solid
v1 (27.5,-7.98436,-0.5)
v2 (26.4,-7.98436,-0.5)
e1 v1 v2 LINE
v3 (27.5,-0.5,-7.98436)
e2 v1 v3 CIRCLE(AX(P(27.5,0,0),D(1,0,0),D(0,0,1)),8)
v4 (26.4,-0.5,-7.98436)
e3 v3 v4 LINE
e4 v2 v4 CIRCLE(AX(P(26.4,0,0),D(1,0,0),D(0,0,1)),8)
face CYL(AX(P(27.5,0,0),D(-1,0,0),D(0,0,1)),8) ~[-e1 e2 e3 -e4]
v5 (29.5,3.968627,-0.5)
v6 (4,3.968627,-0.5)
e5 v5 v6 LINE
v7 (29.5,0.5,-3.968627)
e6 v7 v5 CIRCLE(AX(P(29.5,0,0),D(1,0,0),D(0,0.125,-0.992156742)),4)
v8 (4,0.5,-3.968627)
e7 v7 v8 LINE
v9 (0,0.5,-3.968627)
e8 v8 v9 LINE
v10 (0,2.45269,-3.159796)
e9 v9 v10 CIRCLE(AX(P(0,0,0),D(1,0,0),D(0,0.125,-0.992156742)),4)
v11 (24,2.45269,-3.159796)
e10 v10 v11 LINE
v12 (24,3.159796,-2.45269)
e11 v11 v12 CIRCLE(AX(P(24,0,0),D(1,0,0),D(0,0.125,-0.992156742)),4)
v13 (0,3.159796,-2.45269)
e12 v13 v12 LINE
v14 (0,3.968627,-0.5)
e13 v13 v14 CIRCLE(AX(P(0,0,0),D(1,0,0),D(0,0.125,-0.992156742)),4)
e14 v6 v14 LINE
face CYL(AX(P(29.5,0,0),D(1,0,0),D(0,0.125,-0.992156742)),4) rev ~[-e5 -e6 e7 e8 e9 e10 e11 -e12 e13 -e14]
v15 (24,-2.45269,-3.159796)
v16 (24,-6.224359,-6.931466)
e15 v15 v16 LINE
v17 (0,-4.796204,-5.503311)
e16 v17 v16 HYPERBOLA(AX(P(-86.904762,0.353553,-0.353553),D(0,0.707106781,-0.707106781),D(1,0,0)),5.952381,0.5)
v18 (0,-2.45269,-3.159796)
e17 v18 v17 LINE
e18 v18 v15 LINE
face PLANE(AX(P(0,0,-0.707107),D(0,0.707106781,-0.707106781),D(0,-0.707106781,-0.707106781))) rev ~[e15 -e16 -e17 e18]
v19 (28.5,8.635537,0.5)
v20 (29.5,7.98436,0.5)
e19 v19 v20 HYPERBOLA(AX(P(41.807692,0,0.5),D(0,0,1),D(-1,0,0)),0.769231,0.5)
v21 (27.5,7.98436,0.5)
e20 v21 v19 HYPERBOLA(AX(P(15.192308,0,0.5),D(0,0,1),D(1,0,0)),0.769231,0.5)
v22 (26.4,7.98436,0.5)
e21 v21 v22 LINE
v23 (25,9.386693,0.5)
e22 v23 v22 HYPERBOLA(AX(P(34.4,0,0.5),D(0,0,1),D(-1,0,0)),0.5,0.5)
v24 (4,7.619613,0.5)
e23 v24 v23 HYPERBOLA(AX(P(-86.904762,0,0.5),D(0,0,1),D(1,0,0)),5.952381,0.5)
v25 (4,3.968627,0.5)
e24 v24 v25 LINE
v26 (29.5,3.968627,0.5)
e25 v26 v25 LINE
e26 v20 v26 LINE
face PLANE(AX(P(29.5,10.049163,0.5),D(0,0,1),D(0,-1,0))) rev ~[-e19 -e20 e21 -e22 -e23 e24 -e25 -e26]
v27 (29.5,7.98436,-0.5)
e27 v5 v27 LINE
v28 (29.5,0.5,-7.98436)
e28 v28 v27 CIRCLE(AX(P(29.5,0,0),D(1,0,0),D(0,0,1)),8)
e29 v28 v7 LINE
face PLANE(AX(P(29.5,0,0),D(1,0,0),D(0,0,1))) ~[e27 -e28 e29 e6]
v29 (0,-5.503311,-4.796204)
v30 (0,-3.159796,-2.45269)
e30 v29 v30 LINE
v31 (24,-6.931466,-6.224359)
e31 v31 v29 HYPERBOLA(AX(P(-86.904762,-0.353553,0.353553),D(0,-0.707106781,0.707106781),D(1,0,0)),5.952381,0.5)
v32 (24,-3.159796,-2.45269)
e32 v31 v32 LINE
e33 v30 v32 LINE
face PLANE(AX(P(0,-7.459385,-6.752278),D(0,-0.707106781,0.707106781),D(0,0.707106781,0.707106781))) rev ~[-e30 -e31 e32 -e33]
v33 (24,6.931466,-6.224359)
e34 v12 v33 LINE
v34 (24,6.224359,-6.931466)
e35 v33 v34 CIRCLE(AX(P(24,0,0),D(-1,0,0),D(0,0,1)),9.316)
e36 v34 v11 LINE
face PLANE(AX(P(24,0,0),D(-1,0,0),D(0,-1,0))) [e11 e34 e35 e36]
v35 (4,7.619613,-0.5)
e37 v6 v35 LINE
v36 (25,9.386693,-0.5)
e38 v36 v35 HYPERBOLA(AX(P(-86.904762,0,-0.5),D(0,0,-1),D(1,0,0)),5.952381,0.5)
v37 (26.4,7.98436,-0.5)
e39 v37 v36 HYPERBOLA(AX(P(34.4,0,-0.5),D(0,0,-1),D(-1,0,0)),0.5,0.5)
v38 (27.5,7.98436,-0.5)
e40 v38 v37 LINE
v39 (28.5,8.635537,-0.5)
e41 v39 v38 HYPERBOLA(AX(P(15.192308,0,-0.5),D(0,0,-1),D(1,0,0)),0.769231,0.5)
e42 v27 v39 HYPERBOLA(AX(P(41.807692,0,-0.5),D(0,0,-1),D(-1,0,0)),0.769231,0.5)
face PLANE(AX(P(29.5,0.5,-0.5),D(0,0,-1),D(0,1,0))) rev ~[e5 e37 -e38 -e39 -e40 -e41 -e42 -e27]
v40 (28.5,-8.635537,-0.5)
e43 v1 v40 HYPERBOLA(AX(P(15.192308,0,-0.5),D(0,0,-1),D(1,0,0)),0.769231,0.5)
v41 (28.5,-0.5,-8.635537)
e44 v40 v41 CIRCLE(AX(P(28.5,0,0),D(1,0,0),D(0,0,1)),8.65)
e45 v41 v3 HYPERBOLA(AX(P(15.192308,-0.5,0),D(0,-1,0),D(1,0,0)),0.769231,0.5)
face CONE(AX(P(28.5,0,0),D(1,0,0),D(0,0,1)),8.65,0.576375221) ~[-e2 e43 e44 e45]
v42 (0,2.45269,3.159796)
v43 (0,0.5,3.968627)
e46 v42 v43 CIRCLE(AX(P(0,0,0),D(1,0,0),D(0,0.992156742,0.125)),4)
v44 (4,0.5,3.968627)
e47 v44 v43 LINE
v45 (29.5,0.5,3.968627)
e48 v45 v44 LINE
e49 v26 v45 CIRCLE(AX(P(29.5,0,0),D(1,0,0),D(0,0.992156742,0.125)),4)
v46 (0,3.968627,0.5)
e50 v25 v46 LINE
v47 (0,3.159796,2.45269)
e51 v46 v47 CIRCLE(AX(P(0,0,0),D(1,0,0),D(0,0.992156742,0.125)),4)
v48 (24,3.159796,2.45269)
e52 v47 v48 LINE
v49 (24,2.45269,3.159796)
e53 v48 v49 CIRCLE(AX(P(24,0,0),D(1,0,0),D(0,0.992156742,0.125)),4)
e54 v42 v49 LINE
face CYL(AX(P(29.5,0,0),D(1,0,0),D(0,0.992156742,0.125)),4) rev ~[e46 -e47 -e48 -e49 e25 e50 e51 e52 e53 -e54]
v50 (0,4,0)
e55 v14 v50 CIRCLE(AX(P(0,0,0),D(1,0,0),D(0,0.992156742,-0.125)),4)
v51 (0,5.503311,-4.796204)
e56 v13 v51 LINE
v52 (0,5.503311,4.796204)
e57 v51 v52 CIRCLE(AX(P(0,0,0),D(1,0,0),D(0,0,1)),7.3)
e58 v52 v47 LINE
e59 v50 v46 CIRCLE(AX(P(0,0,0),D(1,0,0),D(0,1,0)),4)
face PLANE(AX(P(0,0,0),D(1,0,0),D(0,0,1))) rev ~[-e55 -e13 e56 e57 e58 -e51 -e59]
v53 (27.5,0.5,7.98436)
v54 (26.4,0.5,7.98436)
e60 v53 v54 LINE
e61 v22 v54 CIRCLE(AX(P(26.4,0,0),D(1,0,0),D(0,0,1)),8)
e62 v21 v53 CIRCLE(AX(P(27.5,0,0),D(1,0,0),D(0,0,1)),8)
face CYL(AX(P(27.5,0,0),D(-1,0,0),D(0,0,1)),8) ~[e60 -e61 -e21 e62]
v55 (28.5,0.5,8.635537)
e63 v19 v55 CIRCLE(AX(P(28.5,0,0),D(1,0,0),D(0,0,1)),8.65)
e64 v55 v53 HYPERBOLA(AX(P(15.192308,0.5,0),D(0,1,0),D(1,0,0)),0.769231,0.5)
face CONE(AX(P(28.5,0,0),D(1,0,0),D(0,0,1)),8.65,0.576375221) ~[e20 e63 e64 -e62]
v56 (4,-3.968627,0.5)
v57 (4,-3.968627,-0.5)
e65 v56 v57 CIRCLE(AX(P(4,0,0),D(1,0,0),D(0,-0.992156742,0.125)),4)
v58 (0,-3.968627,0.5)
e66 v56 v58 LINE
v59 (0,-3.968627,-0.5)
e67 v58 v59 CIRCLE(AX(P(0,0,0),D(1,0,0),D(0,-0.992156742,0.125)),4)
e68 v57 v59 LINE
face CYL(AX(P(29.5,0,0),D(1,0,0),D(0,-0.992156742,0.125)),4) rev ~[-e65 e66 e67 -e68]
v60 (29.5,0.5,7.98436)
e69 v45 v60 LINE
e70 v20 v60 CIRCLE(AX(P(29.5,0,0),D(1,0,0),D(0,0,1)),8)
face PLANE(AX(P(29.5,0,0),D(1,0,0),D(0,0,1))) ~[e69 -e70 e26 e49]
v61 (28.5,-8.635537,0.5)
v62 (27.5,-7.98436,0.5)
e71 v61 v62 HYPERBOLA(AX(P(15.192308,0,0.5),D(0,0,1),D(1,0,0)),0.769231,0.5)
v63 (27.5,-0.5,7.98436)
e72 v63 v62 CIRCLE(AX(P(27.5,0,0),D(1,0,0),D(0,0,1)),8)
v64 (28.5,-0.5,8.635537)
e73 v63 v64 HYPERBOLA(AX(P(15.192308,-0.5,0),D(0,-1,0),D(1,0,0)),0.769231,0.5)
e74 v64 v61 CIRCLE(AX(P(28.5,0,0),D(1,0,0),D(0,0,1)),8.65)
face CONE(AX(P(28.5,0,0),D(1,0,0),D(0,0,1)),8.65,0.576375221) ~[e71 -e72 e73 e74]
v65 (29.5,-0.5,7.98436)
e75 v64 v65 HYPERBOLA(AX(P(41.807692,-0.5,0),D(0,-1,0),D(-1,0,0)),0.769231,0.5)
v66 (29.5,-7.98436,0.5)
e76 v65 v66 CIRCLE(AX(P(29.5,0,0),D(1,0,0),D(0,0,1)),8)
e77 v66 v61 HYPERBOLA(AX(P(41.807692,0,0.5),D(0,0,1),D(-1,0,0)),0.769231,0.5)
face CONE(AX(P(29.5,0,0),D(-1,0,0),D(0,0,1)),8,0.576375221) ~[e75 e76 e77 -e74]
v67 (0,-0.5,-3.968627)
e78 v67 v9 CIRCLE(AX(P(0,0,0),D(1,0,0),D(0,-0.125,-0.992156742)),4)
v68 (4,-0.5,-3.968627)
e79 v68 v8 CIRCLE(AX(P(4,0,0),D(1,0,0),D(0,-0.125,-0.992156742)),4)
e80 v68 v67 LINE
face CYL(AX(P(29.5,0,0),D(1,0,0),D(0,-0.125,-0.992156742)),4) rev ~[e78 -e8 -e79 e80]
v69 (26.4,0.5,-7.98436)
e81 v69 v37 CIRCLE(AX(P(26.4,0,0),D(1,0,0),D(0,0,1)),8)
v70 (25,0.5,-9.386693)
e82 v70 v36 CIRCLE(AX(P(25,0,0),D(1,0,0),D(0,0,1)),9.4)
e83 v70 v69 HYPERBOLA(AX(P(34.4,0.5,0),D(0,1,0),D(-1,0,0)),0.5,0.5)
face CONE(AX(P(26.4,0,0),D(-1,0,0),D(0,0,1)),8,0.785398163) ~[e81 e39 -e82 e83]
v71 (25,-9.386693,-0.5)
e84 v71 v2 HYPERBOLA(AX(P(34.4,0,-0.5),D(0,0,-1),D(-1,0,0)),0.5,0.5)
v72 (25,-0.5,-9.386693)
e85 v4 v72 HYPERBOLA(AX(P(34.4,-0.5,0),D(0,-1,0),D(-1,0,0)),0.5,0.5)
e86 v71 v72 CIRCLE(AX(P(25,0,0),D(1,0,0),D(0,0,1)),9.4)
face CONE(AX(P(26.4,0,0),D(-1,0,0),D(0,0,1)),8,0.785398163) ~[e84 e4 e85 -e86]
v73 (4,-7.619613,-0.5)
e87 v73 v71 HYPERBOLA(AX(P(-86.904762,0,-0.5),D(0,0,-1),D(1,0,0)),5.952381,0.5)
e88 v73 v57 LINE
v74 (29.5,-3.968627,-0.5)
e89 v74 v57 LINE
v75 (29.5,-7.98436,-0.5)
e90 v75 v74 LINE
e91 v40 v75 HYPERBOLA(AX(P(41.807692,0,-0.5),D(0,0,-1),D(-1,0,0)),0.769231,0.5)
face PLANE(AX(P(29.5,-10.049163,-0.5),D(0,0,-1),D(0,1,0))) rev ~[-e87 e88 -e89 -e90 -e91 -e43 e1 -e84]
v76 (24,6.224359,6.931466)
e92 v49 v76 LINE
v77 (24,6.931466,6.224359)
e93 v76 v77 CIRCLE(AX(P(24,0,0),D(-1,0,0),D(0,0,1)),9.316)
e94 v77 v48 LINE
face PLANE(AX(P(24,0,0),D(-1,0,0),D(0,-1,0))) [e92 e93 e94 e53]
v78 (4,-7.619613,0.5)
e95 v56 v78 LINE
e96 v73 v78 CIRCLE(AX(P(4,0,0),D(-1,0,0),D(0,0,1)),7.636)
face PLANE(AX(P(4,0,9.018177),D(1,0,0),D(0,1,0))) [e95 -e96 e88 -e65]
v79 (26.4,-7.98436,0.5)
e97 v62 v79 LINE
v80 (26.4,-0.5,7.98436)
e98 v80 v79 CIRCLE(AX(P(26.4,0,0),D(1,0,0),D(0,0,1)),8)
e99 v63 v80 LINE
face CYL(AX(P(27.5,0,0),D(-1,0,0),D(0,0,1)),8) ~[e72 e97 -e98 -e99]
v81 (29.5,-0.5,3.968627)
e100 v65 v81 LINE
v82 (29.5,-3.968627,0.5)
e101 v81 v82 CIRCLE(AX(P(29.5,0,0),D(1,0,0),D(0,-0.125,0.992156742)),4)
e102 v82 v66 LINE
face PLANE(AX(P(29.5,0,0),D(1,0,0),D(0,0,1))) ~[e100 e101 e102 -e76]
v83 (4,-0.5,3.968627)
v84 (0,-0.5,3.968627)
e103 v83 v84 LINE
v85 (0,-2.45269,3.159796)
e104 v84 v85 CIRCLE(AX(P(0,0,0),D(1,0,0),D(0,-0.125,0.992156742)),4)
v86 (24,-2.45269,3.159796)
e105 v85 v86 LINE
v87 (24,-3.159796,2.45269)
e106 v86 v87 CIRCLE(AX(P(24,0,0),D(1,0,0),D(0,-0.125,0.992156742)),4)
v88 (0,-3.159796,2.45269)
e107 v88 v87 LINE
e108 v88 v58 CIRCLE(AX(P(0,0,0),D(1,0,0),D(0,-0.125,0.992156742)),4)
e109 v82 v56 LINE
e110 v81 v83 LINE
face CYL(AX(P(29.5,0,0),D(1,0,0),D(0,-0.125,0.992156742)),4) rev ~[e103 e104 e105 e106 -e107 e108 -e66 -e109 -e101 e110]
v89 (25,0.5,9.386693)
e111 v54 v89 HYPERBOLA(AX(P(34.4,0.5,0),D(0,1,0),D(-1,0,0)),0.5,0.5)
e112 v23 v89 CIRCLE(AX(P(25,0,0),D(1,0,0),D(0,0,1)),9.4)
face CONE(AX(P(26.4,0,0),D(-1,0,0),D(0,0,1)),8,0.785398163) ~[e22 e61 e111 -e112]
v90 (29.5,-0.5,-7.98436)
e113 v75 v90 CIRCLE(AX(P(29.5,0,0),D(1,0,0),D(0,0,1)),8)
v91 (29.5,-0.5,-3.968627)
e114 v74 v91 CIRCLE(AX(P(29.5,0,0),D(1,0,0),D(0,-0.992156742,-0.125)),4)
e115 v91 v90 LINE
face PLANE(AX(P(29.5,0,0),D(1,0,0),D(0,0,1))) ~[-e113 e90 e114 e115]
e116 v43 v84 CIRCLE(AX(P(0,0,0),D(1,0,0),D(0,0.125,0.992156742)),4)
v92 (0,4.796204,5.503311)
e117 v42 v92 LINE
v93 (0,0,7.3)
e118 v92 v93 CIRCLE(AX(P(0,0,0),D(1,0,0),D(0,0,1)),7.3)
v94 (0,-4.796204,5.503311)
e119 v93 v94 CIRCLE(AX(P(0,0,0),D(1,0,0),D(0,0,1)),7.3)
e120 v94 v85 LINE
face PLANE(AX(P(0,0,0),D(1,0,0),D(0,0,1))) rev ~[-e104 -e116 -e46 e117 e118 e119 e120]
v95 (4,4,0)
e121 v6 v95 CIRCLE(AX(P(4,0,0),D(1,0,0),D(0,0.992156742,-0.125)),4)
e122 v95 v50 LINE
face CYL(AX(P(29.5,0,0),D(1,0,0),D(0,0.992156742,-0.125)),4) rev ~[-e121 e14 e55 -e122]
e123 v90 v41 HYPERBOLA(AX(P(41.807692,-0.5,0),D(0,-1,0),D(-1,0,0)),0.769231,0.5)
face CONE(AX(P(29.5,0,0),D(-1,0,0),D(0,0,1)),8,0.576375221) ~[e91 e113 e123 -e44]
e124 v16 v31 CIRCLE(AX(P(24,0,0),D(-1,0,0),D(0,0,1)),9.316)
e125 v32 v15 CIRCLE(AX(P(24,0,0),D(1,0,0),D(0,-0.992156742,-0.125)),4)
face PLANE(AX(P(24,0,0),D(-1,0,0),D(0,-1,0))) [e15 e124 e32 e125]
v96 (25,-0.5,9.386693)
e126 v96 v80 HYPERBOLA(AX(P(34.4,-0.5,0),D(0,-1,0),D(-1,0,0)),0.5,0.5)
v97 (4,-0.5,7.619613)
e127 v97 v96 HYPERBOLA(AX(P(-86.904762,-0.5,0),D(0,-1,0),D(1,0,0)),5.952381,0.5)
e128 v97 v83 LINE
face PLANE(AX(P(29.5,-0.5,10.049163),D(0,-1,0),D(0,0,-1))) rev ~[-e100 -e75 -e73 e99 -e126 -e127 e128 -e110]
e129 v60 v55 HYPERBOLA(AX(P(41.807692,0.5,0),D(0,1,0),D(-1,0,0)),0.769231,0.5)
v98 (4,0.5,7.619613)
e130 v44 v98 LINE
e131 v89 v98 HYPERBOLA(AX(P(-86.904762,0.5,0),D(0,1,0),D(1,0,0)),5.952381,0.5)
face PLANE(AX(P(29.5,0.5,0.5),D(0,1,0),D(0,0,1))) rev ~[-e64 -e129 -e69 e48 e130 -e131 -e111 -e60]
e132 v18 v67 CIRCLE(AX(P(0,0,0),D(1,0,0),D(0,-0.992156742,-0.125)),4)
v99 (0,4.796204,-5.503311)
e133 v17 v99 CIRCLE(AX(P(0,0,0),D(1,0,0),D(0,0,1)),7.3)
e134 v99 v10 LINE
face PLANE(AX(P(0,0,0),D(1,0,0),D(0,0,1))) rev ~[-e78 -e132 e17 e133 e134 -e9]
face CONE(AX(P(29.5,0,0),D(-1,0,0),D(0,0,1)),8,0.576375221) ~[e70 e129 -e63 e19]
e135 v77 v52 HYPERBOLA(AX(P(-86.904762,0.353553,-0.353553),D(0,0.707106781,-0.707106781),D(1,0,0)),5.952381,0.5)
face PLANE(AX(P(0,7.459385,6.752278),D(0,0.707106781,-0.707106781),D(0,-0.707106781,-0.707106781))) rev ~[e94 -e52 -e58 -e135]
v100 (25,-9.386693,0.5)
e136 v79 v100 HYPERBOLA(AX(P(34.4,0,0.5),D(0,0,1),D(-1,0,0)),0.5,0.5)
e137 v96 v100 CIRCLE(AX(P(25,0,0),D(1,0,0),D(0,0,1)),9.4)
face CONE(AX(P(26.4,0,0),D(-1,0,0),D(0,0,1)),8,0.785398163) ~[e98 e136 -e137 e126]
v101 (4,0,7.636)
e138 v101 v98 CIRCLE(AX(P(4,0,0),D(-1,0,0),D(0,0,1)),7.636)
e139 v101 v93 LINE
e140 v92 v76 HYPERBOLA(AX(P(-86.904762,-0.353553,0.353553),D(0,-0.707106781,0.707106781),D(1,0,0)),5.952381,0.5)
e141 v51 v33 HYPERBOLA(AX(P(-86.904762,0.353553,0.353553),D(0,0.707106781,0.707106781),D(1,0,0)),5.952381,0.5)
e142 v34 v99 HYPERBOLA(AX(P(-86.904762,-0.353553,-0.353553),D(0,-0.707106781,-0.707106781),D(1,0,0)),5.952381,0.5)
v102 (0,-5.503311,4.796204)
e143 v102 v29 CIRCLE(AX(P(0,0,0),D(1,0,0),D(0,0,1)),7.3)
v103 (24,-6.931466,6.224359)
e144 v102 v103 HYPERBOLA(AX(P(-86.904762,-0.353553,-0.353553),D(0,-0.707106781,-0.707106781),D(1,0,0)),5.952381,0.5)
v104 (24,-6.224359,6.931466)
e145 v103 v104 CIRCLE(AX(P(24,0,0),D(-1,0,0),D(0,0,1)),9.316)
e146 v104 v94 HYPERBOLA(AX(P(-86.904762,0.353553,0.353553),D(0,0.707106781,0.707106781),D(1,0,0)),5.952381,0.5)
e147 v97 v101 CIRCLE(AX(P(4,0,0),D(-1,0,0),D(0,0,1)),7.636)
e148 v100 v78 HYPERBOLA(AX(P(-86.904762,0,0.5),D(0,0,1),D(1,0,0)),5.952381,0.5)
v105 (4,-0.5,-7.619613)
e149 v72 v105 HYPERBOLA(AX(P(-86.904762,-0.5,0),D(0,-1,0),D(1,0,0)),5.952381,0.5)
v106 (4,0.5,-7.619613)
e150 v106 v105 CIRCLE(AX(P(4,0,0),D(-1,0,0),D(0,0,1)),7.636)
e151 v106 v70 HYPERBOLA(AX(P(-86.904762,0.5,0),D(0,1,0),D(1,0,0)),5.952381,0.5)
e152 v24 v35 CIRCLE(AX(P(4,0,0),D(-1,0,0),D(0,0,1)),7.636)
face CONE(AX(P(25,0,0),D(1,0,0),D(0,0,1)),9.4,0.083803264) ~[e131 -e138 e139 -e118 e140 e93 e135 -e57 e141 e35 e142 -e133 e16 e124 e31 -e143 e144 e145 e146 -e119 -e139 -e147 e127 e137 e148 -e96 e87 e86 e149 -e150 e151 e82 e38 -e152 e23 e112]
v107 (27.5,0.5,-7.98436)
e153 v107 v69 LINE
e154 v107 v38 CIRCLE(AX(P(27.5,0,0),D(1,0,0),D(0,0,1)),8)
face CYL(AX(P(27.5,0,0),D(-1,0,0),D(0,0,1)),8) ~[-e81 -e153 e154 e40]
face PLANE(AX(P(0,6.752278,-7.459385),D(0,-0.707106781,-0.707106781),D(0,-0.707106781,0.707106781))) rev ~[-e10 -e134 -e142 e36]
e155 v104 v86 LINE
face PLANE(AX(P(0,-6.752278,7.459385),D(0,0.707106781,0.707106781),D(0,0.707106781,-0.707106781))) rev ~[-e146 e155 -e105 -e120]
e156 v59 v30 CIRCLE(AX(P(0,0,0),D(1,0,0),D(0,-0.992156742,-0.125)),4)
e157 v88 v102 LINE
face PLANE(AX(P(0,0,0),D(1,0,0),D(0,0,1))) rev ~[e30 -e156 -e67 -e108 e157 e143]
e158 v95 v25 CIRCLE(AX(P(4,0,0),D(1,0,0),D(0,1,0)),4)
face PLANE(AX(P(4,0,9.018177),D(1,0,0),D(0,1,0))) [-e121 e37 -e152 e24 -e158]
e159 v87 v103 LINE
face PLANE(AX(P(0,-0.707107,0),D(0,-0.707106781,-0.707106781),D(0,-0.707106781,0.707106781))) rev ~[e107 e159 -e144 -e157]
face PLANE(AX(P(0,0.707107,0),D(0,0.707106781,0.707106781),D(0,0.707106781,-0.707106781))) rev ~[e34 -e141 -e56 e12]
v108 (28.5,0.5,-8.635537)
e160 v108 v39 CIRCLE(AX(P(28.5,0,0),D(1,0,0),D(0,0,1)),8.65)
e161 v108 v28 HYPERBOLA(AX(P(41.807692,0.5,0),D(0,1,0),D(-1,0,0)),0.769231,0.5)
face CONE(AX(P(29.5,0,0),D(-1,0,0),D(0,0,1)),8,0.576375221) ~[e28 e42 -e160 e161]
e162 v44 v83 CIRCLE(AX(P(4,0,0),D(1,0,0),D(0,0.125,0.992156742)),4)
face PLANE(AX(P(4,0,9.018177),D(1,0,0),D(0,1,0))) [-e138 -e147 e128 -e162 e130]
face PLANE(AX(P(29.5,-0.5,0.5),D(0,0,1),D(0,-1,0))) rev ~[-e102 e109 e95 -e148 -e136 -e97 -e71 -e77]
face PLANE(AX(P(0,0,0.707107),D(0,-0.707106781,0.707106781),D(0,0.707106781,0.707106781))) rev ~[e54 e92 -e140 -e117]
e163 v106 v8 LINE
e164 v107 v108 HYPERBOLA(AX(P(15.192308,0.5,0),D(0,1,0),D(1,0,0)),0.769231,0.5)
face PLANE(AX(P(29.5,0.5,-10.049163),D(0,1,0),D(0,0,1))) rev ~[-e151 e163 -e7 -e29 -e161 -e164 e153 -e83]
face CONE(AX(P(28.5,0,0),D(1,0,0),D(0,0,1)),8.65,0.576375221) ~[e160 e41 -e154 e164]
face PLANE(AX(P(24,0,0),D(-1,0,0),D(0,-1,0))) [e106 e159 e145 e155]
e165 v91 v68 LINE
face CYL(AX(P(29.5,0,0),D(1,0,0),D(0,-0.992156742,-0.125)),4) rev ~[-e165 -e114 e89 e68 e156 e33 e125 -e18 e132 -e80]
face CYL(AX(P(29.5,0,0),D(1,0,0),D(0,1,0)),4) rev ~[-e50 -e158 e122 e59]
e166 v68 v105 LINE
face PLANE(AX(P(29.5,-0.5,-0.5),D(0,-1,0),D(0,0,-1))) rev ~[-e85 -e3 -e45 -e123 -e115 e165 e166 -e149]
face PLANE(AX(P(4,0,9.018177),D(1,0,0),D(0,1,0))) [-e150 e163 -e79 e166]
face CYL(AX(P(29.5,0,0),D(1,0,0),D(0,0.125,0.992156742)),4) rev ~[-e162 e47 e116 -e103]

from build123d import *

# Parameters (mm, degrees)
F3_DEPTH = 29.501
F4_DEPTH = 25.5
F6_DEPTH = 24


with BuildPart() as f1:
    # F0 (on Front) → F1 (revolve)
    with BuildSketch(Plane.XZ):
        Polygon((0, 7.3), (0, 0), (29.5, 0), (29.5, 8), (28.5, 8.65), (27.5, 8), (26.4, 8), (25, 9.4), align=None)
    revolve(axis=Axis((14.75, 0, 0), (1, 0, 0)))

    # F2 (on face) → F3 (cut, through all)
    with BuildSketch(Plane.YZ.offset(29.5)):
        with BuildLine():
            Line((-0.5, 0.5), (-0.5, 3.9686269666))
            ThreePointArc((-0.5, 3.9686269666), (-2.8284271247, 2.8284271247), (-3.9686269666, 0.5))
            Line((-3.9686269666, 0.5), (-0.5, 0.5))
        make_face()
        with BuildLine():
            ThreePointArc((3.9686269666, -0.5), (3.9921490369, -0.2504916502), (4, 0))
            ThreePointArc((4, 0), (3.9921490369, 0.2504916502), (3.9686269666, 0.5))
            Line((3.9686269666, 0.5), (0.5, 0.5))
            Line((0.5, 0.5), (0.5, 3.9686269666))
            ThreePointArc((0.5, 3.9686269666), (0, 4), (-0.5, 3.9686269666))
            Line((-0.5, 3.9686269666), (-0.5, 0.5))
            Line((-0.5, 0.5), (-3.9686269666, 0.5))
            ThreePointArc((-3.9686269666, 0.5), (-4, 0), (-3.9686269666, -0.5))
            Line((-3.9686269666, -0.5), (-0.5, -0.5))
            Line((-0.5, -0.5), (-0.5, -3.9686269666))
            ThreePointArc((-0.5, -3.9686269666), (0, -4), (0.5, -3.9686269666))
            Line((0.5, -3.9686269666), (0.5, -0.5))
            Line((0.5, -0.5), (3.9686269666, -0.5))
        make_face()
        with BuildLine():
            Line((0.5, 0.5), (3.9686269666, 0.5))
            ThreePointArc((3.9686269666, 0.5), (2.8284271247, 2.8284271247), (0.5, 3.9686269666))
            Line((0.5, 3.9686269666), (0.5, 0.5))
        make_face()
        with BuildLine():
            ThreePointArc((0.5, -3.9686269666), (2.8284271247, -2.8284271247), (3.9686269666, -0.5))
            Line((3.9686269666, -0.5), (0.5, -0.5))
            Line((0.5, -0.5), (0.5, -3.9686269666))
        make_face()
        with BuildLine():
            ThreePointArc((-3.9686269666, -0.5), (-2.8284271247, -2.8284271247), (-0.5, -3.9686269666))
            Line((-0.5, -3.9686269666), (-0.5, -0.5))
            Line((-0.5, -0.5), (-3.9686269666, -0.5))
        make_face()
    extrude(amount=-F3_DEPTH, mode=Mode.SUBTRACT)

    # F2 (on face) → F4 (cut)
    with BuildSketch(Plane.YZ.offset(29.5)):
        with BuildLine():
            ThreePointArc((-0.5, 7.9843597113), (0, 8), (0.5, 7.9843597113))
            Line((0.5, 7.9843597113), (0.5, 10.0491633639))
            Line((0.5, 10.0491633639), (-0.5, 10.0491633639))
            Line((-0.5, 10.0491633639), (-0.5, 7.9843597113))
        make_face()
        with BuildLine():
            ThreePointArc((-0.5, 3.9686269666), (0, 4), (0.5, 3.9686269666))
            Line((0.5, 3.9686269666), (0.5, 7.9843597113))
            ThreePointArc((0.5, 7.9843597113), (0, 8), (-0.5, 7.9843597113))
            Line((-0.5, 7.9843597113), (-0.5, 3.9686269666))
        make_face()
        with BuildLine():
            ThreePointArc((3.9686269666, -0.5), (3.9921490369, -0.2504916502), (4, 0))
            ThreePointArc((4, 0), (3.9921490369, 0.2504916502), (3.9686269666, 0.5))
            Line((3.9686269666, 0.5), (0.5, 0.5))
            Line((0.5, 0.5), (0.5, 3.9686269666))
            ThreePointArc((0.5, 3.9686269666), (0, 4), (-0.5, 3.9686269666))
            Line((-0.5, 3.9686269666), (-0.5, 0.5))
            Line((-0.5, 0.5), (-3.9686269666, 0.5))
            ThreePointArc((-3.9686269666, 0.5), (-4, 0), (-3.9686269666, -0.5))
            Line((-3.9686269666, -0.5), (-0.5, -0.5))
            Line((-0.5, -0.5), (-0.5, -3.9686269666))
            ThreePointArc((-0.5, -3.9686269666), (0, -4), (0.5, -3.9686269666))
            Line((0.5, -3.9686269666), (0.5, -0.5))
            Line((0.5, -0.5), (3.9686269666, -0.5))
        make_face()
        with BuildLine():
            Line((0.5, -7.9843597113), (0.5, -3.9686269666))
            ThreePointArc((0.5, -3.9686269666), (0, -4), (-0.5, -3.9686269666))
            Line((-0.5, -3.9686269666), (-0.5, -7.9843597113))
            ThreePointArc((-0.5, -7.9843597113), (0, -8), (0.5, -7.9843597113))
        make_face()
        with BuildLine():
            Line((0.5, -10.0491633639), (0.5, -7.9843597113))
            ThreePointArc((0.5, -7.9843597113), (0, -8), (-0.5, -7.9843597113))
            Line((-0.5, -7.9843597113), (-0.5, -10.0491633639))
            Line((-0.5, -10.0491633639), (0.5, -10.0491633639))
        make_face()
        with BuildLine():
            ThreePointArc((-3.9686269666, -0.5), (-4, 0), (-3.9686269666, 0.5))
            Line((-3.9686269666, 0.5), (-7.9843597113, 0.5))
            ThreePointArc((-7.9843597113, 0.5), (-8, 0), (-7.9843597113, -0.5))
            Line((-7.9843597113, -0.5), (-3.9686269666, -0.5))
        make_face()
        with BuildLine():
            ThreePointArc((-7.9843597113, -0.5), (-8, 0), (-7.9843597113, 0.5))
            Line((-7.9843597113, 0.5), (-10.0491633639, 0.5))
            Line((-10.0491633639, 0.5), (-10.0491633639, -0.5))
            Line((-10.0491633639, -0.5), (-7.9843597113, -0.5))
        make_face()
        with BuildLine():
            ThreePointArc((3.9686269666, 0.5), (3.9921490369, 0.2504916502), (4, 0))
            ThreePointArc((4, 0), (3.9921490369, -0.2504916502), (3.9686269666, -0.5))
            Line((3.9686269666, -0.5), (7.9843597113, -0.5))
            ThreePointArc((7.9843597113, -0.5), (7.9960889718, -0.2501222794), (8, 0))
            ThreePointArc((8, 0), (7.9960889718, 0.2501222794), (7.9843597113, 0.5))
            Line((7.9843597113, 0.5), (3.9686269666, 0.5))
        make_face()
        with BuildLine():
            Line((10.0491633639, 0.5), (7.9843597113, 0.5))
            ThreePointArc((7.9843597113, 0.5), (7.9960889718, 0.2501222794), (8, 0))
            ThreePointArc((8, 0), (7.9960889718, -0.2501222794), (7.9843597113, -0.5))
            Line((7.9843597113, -0.5), (10.0491633639, -0.5))
            Line((10.0491633639, -0.5), (10.0491633639, 0.5))
        make_face()
    extrude(amount=-F4_DEPTH, mode=Mode.SUBTRACT)

    # F5 (on face) → F6 (cut)
    with BuildSketch(Plane(origin=(0, 0, 0), x_dir=(0, -1, 0), z_dir=(-1, 0, 0))):
        Polygon((6.7522781693, 7.4593849504), (0, 0.7071067812), (-6.7522781693, 7.4593849504), (-7.4593849504, 6.7522781693), (-0.7071067812, 0), (-7.4593849504, -6.7522781693), (-6.7522781693, -7.4593849504), (0, -0.7071067812), (6.7522781693, -7.4593849504), (7.4593849504, -6.7522781693), (0.7071067812, 0), (7.4593849504, 6.7522781693), align=None)
    extrude(amount=-F6_DEPTH, mode=Mode.SUBTRACT)


solid = f1.part
